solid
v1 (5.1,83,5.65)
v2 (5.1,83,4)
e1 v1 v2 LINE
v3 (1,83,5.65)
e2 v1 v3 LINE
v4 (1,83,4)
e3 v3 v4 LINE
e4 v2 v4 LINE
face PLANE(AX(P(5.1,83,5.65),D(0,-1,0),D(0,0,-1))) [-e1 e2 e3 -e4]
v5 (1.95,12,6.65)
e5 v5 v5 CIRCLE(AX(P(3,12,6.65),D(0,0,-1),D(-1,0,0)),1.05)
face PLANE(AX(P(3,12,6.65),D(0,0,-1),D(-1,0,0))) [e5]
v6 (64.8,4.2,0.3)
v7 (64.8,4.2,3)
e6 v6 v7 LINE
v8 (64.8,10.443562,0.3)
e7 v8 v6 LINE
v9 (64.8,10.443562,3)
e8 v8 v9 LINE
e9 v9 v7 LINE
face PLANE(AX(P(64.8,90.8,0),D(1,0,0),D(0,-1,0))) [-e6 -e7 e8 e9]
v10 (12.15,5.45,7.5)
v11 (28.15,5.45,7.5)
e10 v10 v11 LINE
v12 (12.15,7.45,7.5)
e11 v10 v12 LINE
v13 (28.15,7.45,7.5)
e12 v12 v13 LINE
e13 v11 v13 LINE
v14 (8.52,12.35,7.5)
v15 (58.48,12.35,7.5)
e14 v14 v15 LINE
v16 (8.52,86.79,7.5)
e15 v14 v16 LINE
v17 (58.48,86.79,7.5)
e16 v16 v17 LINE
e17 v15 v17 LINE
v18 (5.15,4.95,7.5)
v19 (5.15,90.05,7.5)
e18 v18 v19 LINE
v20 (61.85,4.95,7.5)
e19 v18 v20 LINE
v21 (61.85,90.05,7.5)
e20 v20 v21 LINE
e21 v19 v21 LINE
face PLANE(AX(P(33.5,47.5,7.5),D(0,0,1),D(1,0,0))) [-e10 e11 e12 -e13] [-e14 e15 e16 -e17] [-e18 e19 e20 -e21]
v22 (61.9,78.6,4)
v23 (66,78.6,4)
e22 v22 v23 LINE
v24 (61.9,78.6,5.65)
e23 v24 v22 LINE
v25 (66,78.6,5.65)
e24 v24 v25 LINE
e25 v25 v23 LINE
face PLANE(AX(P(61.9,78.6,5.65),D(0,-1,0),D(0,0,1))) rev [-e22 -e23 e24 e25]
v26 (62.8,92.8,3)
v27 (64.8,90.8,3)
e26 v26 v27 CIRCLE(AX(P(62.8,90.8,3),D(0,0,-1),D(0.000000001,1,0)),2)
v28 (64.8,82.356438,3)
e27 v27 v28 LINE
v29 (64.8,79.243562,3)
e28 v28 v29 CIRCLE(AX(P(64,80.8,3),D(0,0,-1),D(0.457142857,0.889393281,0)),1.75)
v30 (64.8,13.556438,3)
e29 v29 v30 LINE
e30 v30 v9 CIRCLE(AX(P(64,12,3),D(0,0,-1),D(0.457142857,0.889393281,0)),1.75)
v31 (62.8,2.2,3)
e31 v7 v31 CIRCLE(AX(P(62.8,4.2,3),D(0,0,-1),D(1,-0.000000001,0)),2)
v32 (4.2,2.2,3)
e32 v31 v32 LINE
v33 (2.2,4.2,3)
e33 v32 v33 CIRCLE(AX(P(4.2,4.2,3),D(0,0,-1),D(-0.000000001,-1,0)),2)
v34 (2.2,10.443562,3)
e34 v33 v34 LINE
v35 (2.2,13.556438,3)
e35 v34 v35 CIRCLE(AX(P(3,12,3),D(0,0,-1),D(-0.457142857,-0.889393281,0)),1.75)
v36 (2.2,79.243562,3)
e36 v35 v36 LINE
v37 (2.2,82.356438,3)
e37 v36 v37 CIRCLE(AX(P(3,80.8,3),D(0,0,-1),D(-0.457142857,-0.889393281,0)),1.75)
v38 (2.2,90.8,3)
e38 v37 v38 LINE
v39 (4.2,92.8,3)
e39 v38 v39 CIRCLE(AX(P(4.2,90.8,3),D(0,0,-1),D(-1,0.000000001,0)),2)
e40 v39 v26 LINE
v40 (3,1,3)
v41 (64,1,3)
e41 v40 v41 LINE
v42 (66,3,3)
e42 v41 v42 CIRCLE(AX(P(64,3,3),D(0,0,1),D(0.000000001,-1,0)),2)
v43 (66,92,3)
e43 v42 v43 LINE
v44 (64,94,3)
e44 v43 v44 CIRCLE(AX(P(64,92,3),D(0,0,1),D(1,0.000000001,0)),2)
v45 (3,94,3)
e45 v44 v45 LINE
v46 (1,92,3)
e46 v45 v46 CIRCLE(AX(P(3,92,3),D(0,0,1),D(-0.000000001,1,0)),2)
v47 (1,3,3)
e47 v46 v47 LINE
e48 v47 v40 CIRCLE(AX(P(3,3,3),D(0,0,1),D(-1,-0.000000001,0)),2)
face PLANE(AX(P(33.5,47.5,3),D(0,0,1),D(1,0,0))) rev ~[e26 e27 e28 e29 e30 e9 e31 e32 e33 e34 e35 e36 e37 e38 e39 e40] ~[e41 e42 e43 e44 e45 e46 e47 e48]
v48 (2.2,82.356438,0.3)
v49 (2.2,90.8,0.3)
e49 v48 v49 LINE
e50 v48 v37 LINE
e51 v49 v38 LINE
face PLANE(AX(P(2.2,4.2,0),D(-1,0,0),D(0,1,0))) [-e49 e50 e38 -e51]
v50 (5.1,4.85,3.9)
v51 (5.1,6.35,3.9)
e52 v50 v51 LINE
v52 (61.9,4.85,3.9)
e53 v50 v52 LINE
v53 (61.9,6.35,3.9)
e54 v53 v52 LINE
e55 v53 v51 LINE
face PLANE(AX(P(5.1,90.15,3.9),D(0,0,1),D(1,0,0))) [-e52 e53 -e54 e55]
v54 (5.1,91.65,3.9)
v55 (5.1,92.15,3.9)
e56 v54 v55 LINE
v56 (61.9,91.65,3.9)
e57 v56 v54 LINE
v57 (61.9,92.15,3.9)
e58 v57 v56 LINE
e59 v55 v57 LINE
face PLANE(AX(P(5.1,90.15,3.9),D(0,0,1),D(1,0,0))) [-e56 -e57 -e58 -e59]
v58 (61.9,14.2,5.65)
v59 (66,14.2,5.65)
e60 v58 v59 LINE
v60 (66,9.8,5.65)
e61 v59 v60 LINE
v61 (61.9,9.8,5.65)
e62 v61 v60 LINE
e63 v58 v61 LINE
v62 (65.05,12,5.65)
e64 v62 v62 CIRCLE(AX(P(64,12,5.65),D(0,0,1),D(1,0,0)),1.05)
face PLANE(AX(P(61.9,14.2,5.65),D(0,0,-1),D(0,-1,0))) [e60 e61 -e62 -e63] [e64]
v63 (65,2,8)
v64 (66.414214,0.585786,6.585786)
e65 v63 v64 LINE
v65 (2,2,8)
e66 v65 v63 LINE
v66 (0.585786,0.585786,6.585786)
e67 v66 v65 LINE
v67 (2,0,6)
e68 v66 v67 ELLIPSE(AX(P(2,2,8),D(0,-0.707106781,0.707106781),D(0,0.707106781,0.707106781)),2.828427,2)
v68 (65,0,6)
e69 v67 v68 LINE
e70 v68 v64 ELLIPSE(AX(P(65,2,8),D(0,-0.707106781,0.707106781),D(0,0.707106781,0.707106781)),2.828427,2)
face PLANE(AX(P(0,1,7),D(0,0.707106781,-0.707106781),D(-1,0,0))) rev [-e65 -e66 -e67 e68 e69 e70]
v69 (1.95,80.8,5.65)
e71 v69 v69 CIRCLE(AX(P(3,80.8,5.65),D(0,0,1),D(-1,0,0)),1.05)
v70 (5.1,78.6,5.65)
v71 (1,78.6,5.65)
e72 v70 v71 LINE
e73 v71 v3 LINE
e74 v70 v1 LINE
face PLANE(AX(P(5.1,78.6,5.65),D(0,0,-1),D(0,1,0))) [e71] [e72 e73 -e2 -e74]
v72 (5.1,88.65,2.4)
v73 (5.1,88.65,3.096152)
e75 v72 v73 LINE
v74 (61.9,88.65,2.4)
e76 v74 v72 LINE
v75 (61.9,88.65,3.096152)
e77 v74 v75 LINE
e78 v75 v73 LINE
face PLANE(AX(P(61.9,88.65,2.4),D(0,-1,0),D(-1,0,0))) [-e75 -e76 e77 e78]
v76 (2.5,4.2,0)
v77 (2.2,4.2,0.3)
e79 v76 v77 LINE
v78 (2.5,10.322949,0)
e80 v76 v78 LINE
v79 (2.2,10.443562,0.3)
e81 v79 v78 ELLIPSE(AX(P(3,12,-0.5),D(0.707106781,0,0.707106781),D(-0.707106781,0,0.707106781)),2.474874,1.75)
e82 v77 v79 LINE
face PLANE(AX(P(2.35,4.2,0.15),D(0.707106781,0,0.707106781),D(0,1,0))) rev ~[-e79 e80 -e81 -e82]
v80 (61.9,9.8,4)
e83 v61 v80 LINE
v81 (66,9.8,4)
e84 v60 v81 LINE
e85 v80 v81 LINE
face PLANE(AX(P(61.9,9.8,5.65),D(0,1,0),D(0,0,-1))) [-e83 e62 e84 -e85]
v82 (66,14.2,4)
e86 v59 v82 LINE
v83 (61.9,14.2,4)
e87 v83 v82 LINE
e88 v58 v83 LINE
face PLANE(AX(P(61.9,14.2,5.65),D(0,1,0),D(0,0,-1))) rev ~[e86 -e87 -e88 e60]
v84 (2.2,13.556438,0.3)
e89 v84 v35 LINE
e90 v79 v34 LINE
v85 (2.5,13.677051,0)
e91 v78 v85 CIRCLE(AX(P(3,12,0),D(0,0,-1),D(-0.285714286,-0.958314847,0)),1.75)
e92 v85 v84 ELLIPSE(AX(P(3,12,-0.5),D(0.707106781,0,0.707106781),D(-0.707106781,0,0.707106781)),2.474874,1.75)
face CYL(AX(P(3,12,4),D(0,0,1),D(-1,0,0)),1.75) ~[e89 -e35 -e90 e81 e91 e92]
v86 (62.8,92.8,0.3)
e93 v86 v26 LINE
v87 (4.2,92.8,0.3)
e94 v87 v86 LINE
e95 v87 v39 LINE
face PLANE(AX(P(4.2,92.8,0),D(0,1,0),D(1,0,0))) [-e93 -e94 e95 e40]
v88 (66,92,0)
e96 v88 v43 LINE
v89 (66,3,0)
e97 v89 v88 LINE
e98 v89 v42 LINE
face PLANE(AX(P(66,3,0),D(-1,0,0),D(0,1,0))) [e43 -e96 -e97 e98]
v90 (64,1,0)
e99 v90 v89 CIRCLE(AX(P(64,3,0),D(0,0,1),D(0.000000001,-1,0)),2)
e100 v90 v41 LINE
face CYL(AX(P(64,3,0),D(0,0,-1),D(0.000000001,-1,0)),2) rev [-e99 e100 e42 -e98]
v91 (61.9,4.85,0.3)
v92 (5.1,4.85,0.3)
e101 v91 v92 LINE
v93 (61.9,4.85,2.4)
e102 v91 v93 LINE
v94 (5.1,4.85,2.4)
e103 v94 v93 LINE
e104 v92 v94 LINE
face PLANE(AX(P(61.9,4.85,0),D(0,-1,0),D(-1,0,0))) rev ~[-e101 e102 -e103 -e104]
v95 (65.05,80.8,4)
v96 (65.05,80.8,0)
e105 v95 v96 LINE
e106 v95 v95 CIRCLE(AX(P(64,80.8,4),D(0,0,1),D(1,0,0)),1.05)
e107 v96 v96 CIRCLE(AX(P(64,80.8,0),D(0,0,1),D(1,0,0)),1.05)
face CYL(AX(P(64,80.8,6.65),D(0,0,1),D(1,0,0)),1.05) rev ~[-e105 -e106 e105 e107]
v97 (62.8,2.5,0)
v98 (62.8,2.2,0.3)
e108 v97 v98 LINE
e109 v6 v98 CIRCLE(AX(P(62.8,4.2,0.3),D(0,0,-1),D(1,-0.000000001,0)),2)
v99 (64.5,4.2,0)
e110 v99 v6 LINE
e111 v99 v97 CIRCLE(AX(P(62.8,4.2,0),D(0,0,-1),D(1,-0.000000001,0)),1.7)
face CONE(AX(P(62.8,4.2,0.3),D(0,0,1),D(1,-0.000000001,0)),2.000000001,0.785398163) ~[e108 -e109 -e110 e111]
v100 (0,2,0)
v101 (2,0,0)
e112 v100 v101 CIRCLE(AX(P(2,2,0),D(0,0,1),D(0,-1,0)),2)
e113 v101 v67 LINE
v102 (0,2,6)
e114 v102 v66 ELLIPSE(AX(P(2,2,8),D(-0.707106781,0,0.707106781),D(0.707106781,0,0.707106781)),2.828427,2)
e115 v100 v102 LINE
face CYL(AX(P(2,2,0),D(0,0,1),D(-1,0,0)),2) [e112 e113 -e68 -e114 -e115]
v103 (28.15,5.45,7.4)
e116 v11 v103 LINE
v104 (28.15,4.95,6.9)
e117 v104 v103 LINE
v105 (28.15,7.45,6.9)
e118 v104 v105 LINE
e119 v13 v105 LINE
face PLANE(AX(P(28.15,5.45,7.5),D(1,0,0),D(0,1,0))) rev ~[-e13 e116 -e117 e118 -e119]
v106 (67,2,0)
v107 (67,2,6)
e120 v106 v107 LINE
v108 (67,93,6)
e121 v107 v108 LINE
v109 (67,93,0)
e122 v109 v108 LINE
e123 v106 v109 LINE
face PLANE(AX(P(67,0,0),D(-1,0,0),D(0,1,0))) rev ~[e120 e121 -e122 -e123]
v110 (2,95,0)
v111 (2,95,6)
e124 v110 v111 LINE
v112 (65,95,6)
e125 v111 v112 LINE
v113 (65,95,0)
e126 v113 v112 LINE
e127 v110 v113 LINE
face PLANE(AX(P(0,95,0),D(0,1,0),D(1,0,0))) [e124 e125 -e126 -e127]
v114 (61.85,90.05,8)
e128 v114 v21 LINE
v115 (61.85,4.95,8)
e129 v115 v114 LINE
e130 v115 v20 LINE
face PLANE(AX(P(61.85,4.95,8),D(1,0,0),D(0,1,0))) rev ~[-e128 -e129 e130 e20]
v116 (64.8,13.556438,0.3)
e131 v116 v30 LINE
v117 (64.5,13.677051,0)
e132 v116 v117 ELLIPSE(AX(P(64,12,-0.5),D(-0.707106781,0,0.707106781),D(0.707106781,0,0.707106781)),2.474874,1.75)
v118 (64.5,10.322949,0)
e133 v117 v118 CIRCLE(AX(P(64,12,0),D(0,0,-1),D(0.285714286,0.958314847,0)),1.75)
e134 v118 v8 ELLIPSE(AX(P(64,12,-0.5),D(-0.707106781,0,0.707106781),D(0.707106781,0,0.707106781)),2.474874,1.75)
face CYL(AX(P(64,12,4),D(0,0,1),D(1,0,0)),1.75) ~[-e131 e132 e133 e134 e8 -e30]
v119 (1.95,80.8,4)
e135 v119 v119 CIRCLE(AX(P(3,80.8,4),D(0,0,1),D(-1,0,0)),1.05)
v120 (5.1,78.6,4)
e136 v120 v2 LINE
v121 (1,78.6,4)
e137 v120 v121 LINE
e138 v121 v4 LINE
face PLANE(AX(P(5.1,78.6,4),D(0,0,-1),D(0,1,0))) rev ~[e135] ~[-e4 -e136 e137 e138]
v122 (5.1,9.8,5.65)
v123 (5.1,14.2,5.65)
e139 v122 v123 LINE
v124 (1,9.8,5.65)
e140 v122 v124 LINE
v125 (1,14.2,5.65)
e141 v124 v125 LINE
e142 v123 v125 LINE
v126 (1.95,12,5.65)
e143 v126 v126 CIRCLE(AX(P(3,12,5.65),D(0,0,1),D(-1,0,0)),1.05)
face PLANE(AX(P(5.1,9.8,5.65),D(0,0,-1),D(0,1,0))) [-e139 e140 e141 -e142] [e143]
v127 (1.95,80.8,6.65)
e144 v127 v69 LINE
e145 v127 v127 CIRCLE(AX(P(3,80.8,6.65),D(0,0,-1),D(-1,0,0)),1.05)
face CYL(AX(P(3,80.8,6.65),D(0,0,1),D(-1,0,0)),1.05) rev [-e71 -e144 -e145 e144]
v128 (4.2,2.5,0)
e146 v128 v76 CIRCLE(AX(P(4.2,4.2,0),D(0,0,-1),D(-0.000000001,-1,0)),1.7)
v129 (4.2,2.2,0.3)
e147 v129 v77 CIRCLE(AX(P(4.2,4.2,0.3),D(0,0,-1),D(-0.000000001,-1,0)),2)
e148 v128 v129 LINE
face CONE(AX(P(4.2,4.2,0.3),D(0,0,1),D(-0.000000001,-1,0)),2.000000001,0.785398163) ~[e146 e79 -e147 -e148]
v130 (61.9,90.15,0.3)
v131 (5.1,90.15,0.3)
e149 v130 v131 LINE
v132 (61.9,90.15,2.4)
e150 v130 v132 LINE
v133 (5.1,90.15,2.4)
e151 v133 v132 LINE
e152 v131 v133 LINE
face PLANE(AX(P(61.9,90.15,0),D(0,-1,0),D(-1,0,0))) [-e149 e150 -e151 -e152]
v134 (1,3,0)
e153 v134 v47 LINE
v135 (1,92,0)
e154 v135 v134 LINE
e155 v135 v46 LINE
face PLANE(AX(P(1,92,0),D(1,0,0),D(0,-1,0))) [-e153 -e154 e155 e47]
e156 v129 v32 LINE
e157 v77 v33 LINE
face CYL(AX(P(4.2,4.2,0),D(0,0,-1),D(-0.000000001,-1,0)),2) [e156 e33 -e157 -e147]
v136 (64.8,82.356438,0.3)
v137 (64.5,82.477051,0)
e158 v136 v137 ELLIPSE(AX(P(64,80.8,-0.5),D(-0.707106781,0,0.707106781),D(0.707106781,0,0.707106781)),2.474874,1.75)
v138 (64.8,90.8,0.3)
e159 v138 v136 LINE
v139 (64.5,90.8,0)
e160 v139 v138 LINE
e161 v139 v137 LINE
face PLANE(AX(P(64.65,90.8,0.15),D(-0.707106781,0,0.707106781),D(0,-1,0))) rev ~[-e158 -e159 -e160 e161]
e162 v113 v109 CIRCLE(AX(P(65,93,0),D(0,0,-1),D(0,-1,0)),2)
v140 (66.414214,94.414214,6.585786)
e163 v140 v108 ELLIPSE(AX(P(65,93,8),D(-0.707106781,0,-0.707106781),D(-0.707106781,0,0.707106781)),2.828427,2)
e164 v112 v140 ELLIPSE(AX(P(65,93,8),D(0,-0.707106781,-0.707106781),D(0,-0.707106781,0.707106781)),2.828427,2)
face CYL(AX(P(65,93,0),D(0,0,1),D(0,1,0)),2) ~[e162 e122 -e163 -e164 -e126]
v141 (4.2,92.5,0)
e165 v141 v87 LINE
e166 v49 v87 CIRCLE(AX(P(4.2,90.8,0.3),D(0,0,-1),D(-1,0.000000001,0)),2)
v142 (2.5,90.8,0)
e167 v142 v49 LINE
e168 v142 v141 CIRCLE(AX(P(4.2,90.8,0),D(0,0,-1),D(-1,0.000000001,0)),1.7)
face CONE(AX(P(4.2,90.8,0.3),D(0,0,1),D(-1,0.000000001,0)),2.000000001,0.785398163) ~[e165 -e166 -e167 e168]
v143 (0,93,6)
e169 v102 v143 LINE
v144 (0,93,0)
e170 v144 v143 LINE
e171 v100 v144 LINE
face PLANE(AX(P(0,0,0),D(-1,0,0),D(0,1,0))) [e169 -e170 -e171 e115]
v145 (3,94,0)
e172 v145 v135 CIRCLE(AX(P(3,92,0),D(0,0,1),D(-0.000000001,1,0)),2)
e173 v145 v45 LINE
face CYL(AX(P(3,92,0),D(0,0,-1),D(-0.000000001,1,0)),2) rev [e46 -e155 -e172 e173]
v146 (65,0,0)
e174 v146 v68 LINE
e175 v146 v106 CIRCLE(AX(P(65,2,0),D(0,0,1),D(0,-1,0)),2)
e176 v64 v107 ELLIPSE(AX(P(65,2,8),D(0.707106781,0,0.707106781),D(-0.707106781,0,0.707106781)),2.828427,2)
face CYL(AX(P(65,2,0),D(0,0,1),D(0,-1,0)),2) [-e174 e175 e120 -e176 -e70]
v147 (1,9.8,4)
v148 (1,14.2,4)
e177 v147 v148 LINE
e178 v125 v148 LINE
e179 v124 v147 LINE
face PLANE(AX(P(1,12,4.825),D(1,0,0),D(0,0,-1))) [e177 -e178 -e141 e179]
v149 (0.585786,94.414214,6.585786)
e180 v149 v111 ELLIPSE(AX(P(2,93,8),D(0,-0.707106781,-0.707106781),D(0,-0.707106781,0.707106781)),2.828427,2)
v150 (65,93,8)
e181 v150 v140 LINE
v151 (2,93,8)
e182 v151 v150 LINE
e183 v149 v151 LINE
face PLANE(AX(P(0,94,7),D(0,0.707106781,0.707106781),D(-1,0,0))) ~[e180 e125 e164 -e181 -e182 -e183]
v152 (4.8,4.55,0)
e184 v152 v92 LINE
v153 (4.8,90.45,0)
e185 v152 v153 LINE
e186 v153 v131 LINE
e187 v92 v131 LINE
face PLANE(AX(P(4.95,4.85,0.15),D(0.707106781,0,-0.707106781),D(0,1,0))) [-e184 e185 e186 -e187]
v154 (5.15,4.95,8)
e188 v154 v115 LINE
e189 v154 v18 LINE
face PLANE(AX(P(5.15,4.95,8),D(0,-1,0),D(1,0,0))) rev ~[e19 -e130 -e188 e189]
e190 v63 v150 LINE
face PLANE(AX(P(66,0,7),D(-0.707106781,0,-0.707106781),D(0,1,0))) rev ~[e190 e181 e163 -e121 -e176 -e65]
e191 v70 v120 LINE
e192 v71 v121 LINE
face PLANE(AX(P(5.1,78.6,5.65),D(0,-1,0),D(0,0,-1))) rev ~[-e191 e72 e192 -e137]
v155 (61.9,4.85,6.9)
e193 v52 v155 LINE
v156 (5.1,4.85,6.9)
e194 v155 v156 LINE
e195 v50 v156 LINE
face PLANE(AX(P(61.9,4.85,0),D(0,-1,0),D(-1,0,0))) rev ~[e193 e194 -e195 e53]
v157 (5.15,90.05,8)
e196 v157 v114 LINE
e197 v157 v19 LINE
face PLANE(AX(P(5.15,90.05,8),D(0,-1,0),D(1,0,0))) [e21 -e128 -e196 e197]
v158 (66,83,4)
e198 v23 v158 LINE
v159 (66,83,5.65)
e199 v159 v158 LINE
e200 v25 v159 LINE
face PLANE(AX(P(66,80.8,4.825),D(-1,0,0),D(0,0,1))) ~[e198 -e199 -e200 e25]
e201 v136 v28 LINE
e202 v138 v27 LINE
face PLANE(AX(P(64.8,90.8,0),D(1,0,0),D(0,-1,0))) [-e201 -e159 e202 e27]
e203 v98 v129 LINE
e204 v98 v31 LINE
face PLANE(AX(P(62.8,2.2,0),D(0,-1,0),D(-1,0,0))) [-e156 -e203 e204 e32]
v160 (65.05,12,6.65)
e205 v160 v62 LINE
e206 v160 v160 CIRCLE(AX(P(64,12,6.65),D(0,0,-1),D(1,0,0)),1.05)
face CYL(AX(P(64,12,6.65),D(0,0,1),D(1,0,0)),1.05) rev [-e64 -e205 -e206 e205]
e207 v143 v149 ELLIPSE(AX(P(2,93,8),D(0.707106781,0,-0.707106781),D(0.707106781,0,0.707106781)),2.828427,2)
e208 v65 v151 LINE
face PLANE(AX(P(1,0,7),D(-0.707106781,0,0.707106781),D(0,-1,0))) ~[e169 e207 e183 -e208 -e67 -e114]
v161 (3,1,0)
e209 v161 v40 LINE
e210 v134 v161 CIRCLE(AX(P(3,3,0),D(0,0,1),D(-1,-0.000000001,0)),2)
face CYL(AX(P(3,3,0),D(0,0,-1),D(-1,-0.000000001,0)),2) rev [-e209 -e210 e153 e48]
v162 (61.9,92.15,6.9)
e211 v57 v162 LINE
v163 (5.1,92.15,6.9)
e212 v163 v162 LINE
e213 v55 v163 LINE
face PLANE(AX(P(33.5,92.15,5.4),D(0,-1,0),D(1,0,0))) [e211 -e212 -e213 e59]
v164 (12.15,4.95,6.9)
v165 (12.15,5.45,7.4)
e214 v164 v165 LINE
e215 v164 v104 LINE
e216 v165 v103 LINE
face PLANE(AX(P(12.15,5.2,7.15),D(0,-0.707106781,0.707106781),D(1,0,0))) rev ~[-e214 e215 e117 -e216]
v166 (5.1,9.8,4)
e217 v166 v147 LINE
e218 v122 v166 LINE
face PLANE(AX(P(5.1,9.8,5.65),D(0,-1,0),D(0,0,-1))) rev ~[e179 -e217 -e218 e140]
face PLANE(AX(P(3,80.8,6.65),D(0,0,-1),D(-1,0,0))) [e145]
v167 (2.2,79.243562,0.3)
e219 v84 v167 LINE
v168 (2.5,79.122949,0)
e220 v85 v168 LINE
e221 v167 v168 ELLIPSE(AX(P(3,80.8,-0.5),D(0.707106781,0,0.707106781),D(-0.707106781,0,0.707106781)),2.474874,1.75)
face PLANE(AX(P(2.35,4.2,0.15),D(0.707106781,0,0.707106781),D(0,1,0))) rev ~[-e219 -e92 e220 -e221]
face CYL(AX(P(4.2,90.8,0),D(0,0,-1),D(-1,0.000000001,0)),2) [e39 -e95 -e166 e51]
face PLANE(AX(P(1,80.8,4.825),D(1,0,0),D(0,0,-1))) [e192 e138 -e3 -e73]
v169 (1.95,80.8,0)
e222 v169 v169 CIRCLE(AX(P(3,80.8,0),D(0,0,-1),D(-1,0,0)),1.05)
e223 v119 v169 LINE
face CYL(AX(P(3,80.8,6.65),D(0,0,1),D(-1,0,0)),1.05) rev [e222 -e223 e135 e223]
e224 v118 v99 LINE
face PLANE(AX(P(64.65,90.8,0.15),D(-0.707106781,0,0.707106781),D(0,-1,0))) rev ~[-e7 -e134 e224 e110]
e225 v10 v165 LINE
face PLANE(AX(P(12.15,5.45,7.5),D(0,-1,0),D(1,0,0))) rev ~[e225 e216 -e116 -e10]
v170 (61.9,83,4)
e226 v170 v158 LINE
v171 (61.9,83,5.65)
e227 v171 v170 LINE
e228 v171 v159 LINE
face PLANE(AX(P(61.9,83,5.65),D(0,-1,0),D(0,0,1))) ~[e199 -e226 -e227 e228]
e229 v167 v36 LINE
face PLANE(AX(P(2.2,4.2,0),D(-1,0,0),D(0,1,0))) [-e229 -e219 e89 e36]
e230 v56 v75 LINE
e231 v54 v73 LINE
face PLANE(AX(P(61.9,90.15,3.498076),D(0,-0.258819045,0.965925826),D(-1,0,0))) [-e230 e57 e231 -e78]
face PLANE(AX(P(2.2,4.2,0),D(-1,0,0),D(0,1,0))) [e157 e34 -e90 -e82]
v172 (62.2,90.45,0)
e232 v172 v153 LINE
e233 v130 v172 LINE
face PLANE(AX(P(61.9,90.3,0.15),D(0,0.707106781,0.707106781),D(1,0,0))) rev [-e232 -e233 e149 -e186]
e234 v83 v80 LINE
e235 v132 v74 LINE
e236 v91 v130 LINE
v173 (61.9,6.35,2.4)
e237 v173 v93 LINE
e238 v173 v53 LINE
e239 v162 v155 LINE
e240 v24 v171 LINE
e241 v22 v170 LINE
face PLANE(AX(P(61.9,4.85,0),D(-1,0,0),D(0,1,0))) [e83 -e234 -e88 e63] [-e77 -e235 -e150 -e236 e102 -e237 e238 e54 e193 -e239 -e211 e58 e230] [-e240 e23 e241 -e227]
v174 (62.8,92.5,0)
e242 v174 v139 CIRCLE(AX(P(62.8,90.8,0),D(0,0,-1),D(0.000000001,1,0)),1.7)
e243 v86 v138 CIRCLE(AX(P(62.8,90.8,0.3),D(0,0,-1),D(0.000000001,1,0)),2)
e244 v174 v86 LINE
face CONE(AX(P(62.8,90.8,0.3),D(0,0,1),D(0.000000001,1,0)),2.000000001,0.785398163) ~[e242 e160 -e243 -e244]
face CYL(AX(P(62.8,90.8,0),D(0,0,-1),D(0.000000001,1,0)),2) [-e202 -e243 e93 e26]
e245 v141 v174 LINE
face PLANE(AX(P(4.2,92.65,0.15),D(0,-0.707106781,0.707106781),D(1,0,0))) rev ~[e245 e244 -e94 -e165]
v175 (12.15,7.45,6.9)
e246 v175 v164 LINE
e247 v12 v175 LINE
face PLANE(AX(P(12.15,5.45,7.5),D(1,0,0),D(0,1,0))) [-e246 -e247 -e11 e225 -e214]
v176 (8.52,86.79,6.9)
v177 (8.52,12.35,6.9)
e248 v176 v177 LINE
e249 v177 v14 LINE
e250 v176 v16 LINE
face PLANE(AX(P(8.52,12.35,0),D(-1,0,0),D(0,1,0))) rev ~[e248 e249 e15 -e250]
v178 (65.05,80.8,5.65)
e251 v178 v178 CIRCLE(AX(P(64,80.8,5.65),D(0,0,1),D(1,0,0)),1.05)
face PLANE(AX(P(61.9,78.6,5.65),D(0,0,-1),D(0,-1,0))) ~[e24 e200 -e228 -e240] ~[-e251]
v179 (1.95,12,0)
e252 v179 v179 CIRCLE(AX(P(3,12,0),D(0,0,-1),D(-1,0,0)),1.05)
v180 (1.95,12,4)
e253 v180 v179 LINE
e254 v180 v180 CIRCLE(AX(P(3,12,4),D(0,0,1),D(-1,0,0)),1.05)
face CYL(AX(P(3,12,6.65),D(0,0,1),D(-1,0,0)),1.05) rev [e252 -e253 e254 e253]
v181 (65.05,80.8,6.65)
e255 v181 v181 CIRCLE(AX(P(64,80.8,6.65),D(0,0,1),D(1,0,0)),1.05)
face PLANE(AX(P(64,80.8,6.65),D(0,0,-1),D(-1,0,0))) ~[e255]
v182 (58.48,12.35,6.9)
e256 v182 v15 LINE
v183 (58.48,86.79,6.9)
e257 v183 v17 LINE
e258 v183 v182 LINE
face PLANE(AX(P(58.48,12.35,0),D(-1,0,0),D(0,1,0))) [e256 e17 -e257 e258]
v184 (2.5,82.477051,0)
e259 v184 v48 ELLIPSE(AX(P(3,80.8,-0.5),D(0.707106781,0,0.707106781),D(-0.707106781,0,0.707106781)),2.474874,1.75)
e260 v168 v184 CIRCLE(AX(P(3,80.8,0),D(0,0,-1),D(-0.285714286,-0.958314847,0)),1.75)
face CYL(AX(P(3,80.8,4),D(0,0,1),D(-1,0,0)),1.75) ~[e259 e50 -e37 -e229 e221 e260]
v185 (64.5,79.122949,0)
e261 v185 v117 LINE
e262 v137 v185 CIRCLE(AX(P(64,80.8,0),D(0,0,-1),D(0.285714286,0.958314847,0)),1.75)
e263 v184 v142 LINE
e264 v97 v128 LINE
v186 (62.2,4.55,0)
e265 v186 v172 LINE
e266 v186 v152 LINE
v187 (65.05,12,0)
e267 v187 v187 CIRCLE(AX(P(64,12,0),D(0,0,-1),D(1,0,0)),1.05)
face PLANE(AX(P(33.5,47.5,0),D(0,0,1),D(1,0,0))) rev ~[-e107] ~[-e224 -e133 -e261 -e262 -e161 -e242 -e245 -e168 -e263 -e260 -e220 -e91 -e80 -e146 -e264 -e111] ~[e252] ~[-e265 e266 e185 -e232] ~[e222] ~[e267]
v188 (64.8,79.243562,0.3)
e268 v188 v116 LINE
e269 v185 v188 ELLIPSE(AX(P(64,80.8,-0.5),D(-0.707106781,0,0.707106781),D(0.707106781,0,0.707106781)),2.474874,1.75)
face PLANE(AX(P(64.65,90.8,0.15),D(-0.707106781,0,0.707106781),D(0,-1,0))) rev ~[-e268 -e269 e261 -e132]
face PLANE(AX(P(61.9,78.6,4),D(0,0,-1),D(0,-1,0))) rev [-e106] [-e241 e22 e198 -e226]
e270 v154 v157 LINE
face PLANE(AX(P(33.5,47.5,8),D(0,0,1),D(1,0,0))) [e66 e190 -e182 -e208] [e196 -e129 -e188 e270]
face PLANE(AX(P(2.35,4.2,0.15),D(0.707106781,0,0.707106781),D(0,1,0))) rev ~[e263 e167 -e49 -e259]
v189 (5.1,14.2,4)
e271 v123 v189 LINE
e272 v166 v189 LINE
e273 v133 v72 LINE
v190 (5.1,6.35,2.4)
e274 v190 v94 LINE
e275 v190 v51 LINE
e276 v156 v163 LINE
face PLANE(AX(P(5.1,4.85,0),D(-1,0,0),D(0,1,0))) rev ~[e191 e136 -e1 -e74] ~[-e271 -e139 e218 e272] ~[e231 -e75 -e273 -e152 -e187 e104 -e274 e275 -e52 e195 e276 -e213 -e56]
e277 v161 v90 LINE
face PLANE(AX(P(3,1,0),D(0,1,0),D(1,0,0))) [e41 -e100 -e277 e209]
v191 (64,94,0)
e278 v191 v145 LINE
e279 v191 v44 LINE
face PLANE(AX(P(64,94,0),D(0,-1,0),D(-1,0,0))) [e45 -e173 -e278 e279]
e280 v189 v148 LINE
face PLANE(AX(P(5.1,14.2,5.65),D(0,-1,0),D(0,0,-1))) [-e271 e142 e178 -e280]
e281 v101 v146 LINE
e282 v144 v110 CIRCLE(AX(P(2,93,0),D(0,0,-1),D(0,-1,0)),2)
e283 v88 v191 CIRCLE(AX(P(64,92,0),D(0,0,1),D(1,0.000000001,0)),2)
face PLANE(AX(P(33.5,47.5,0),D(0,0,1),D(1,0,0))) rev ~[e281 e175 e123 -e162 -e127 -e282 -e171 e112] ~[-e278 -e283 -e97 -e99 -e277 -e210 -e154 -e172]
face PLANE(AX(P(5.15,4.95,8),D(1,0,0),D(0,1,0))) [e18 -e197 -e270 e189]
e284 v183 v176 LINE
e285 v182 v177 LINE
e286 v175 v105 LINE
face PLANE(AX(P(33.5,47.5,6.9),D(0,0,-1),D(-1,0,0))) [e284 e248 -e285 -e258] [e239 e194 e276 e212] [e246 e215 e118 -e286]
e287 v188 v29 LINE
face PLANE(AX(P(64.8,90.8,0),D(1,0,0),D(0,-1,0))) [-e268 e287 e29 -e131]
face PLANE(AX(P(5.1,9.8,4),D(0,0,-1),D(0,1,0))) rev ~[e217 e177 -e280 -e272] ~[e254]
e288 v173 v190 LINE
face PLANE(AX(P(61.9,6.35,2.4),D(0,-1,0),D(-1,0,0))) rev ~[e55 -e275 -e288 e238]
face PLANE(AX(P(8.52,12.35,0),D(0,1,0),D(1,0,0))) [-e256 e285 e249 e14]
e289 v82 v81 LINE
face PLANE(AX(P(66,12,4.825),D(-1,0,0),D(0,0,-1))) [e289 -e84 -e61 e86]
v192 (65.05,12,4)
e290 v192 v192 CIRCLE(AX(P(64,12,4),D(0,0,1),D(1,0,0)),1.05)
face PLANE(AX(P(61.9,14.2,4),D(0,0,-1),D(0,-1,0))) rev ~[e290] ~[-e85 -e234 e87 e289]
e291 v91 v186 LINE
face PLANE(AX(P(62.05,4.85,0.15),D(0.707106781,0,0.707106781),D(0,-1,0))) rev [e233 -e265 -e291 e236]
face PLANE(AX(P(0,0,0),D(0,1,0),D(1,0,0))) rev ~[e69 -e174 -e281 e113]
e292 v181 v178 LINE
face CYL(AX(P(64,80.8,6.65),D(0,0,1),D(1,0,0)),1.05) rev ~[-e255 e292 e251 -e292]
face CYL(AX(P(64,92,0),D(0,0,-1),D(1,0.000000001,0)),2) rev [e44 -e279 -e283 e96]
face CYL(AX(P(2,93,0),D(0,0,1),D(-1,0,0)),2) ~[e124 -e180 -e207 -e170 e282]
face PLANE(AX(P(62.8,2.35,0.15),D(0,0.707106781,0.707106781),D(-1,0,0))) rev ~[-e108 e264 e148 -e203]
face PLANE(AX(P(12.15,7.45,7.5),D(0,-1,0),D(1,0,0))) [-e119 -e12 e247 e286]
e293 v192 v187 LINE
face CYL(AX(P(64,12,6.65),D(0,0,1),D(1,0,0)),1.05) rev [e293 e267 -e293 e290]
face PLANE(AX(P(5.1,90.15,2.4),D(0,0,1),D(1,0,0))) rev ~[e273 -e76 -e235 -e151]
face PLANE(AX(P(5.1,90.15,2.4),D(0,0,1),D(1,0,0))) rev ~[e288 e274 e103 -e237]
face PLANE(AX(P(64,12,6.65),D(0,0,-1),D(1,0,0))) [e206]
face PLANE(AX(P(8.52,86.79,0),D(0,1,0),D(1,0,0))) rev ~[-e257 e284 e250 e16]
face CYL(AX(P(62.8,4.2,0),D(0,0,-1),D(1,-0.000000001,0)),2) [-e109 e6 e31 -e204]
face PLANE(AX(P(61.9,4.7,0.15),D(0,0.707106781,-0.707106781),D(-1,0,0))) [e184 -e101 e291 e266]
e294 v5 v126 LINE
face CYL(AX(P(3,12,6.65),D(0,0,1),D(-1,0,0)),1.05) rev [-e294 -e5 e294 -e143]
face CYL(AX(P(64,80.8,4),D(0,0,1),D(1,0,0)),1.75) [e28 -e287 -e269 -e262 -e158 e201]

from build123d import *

# Parameters (mm, degrees)
SKIZZE1_W                        = 67
SKIZZE1_H                        = 95
AUFSATZ_LINEAR_AUSTRAGEN1_DEPTH  = 8
SKIZZE2_W                        = 56.7
SKIZZE2_H                        = 85.1
SCHNITT_LINEAR_AUSTRAGEN1_DEPTH  = 0.5
SCHNITT_LINEAR_START             = -7.5
SKIZZE3_W                        = 49.96
SKIZZE3_H                        = 74.44
SCHNITT_LINEAR_AUSTRAGEN2_DEPTH  = 7.5
SCHNITT_LINEAR_AUSTRAGEN3_REACH  = 9.5
SKIZZE4_W                        = 16
SKIZZE4_H                        = 2
SKIZZE5_W                        = 56.8
SKIZZE5_H                        = 85.3
SCHNITT_LINEAR_AUSTRAGEN4_DEPTH  = 6.9
FASE1_SIZE                       = 2
FASE2_SIZE                       = 0.5
SKIZZE8_W                        = 56.8
SKIZZE8_H                        = 3
SCHNITT_LINEAR_AUSTRAGEN5_DEPTH  = 2
SKIZZE10_W                       = 56.8
SKIZZE10_H                       = 1.5
AUFSATZ_LINEAR_AUSTRAGEN2_DEPTH  = 85.3
SCHNITT_LINEAR_AUSTRAGEN6_REACH  = 7.6
SKIZZE12_W                       = 56.8
SKIZZE12_H                       = 82.3
VERRUNDUNG2_R                    = 2
FASE3_SIZE                       = 3
FASE3_SIZE2                      = 0.803847577
SCHNITT_LINEAR_AUSTRAGEN9_DEPTH  = 3
FASE8_SIZE                       = 0.3
SKIZZE18_W                       = 1.65
SKIZZE18_H                       = 4.4
SCHNITT_LINEAR_AUSTRAGEN10_DEPTH = 4.1
AUFSATZ_LINEAR_START             = 1.65
SKIZZE20_R                       = 1.75
AUFSATZ_LINEAR_AUSTRAGEN7_DEPTH  = 4
SCHNITT_LINEAR_START_2           = -1
SKIZZE21_R                       = 1.05
SCHNITT_LINEAR_AUSTRAGEN12_DEPTH = 6.65
LINEARES_MUSTER1_COUNT           = 2
LINEARES_MUSTER1_PITCH           = 68.8
LINEARES_START                   = 1.65
LINEARES_MUSTER1_COPY_1_SKETCH_R = 1.75
LINEARES_MUSTER1_COPY_1_DEPTH    = 4
LINEARES_START_2                 = -1
LINEARES_MUSTER1_COPY_2_SKETCH_R = 1.05
LINEARES_MUSTER1_COPY_2_DEPTH    = 6.65
LINEARES_MUSTER1_COPY_3_SKETCH_W = 1.65
LINEARES_MUSTER1_COPY_3_SKETCH_H = 4.4
LINEARES_MUSTER1_COPY_3_DEPTH    = 4.1


with BuildPart() as part:
    # Skizze1 → Aufsatz-Linear austragen1 (new body)
    with BuildSketch(Plane.XY):
        with Locations((33.5, 47.5)):
            Rectangle(SKIZZE1_W, SKIZZE1_H)
    extrude(amount=AUFSATZ_LINEAR_AUSTRAGEN1_DEPTH)

    # Skizze2 → Schnitt-Linear austragen1 (cut)
    with BuildSketch(Plane.XY.offset(8)):
        with Locations((33.5, 47.5)):
            Rectangle(SKIZZE2_W, SKIZZE2_H)
    extrude(amount=-SCHNITT_LINEAR_AUSTRAGEN1_DEPTH, mode=Mode.SUBTRACT)

    # Skizze3 → Schnitt-Linear austragen2 (cut)
    with BuildSketch(Plane.XY.offset(7.5).offset(SCHNITT_LINEAR_START)):
        with Locations((33.5, 49.57)):
            Rectangle(SKIZZE3_W, SKIZZE3_H)
    extrude(amount=SCHNITT_LINEAR_AUSTRAGEN2_DEPTH, mode=Mode.SUBTRACT)

    # Skizze4 → Schnitt-Linear austragen3 (cut, up to next)
    with BuildSketch(Plane.XY.offset(7.5), mode=Mode.PRIVATE) as schnitt_linear_austragen3_sk1:
        with Locations((20.15, 6.45)):
            Rectangle(SKIZZE4_W, SKIZZE4_H)
    schnitt_linear_austragen3_tool1 = extrude(schnitt_linear_austragen3_sk1.sketch, amount=-SCHNITT_LINEAR_AUSTRAGEN3_REACH, mode=Mode.PRIVATE) & part.part
    add(schnitt_linear_austragen3_tool1.solids().sort_by_distance((20.15, 6.45, 7.5))[0], mode=Mode.SUBTRACT)

    # Skizze5 → Schnitt-Linear austragen4 (cut)
    with BuildSketch(Plane(origin=(0, 0, 0), x_dir=(-1, 0, 0), z_dir=(0, 0, -1))):
        with Locations((-33.5, 47.5)):
            Rectangle(SKIZZE5_W, SKIZZE5_H)
    extrude(amount=-SCHNITT_LINEAR_AUSTRAGEN4_DEPTH, mode=Mode.SUBTRACT)

    # Fase1
    fase1_edges = [part.edges().sort_by_distance(p)[0] for p in [
        (67, 47.5, 8),
        (33.5, 95, 8),
        (0, 47.5, 8),
        (33.5, 0, 8),
    ]]
    chamfer(fase1_edges, length=FASE1_SIZE)

    # Fase2
    fase2_edges = [part.edges().sort_by_distance(p)[0] for p in [
        (20.15, 5.45, 6.9),
    ]]
    chamfer(fase2_edges, length=FASE2_SIZE)

    # Skizze8 → Schnitt-Linear austragen5 (cut)
    with BuildSketch(Plane.XZ.offset(-90.15)):
        with Locations((33.5, 5.4)):
            Rectangle(SKIZZE8_W, SKIZZE8_H)
    extrude(amount=-SCHNITT_LINEAR_AUSTRAGEN5_DEPTH, mode=Mode.SUBTRACT)

    # Skizze10 → Aufsatz-Linear austragen2 (add)
    with BuildSketch(Plane.XZ.offset(-90.15)):
        with Locations((33.5, 3.15)):
            Rectangle(SKIZZE10_W, SKIZZE10_H)
    extrude(amount=AUFSATZ_LINEAR_AUSTRAGEN2_DEPTH)

    # Skizze12 → Schnitt-Linear austragen6 (cut, up to next)
    with BuildSketch(Plane(origin=(0, 0, 2.4), x_dir=(-1, 0, 0), z_dir=(0, 0, -1)), mode=Mode.PRIVATE) as schnitt_linear_austragen6_sk1:
        with Locations((-33.5, 47.5)):
            Rectangle(SKIZZE12_W, SKIZZE12_H)
    schnitt_linear_austragen6_tool1 = extrude(schnitt_linear_austragen6_sk1.sketch, amount=-SCHNITT_LINEAR_AUSTRAGEN6_REACH, mode=Mode.PRIVATE) & part.part
    add(schnitt_linear_austragen6_tool1.solids().sort_by_distance((33.5, 47.5, 2.4))[0], mode=Mode.SUBTRACT)

    # Verrundung2
    verrundung2_edges = [part.edges().sort_by_distance(p)[0] for p in [
        (0, 0, 3),
        (0, 95, 3),
        (67, 0, 3),
        (67, 95, 3),
    ]]
    fillet(verrundung2_edges, radius=VERRUNDUNG2_R)

    # Fase3
    fase3_edges = [part.edges().sort_by_distance(p)[0] for p in [
        (33.5, 88.65, 3.9),
    ]]
    fase3_side = [part.faces().sort_by_distance(p)[0] for p in [
        (33.5, 90.4, 3.9),
    ]]
    chamfer(fase3_edges, length=FASE3_SIZE, length2=FASE3_SIZE2, reference=fase3_side[0])

    # Skizze14 → Schnitt-Linear austragen9 (cut)
    with BuildSketch(Plane(origin=(0, 0, 0), x_dir=(-1, 0, 0), z_dir=(0, 0, -1))):
        with BuildLine():
            Line((-64, 94), (-3, 94))
            ThreePointArc((-3, 94), (-1.585786438, 93.414213562), (-1, 92))
            Line((-1, 92), (-1, 3))
            ThreePointArc((-1, 3), (-1.585786438, 1.585786438), (-3, 1))
            Line((-3, 1), (-64, 1))
            ThreePointArc((-64, 1), (-65.414213562, 1.585786438), (-66, 3))
            Line((-66, 3), (-66, 92))
            ThreePointArc((-66, 92), (-65.414213562, 93.414213562), (-64, 94))
        make_face()
        with BuildLine():
            ThreePointArc((-64.8, 4.2), (-64.214213562, 2.785786438), (-62.8, 2.2))
            Line((-62.8, 2.2), (-4.2, 2.2))
            ThreePointArc((-4.2, 2.2), (-2.785786438, 2.785786438), (-2.2, 4.2))
            Line((-2.2, 4.2), (-2.2, 90.8))
            ThreePointArc((-2.2, 90.8), (-2.785786438, 92.214213562), (-4.2, 92.8))
            Line((-4.2, 92.8), (-62.8, 92.8))
            ThreePointArc((-62.8, 92.8), (-64.214213562, 92.214213562), (-64.8, 90.8))
            Line((-64.8, 90.8), (-64.8, 4.2))
        make_face(mode=Mode.SUBTRACT)
    extrude(amount=-SCHNITT_LINEAR_AUSTRAGEN9_DEPTH, mode=Mode.SUBTRACT)

    # Fase8
    fase8_edges = [part.edges().sort_by_distance(p)[0] for p in [
        (64.214213562, 2.785786438, 0),
        (33.5, 2.2, 0),
        (2.2, 47.5, 0),
        (2.785786438, 92.214213562, 0),
        (64.214213562, 92.214213562, 0),
        (64.8, 47.5, 0),
        (33.5, 92.8, 0),
        (2.785786438, 2.785786438, 0),
        (61.9, 47.5, 0),
        (33.5, 4.85, 0),
        (5.1, 47.5, 0),
        (33.5, 90.15, 0),
    ]]
    chamfer(fase8_edges, length=FASE8_SIZE)

    # Skizze18 → Schnitt-Linear austragen10 (cut)
    with BuildSketch(Plane(origin=(5.1, 0, 0), x_dir=(0, 0, -1), z_dir=(1, 0, 0))):
        with Locations((-4.825, 80.8)):
            Rectangle(SKIZZE18_W, SKIZZE18_H)
    schnitt_linear_austragen10 = extrude(amount=-SCHNITT_LINEAR_AUSTRAGEN10_DEPTH, mode=Mode.SUBTRACT)

    # Spiegeln6: Schnitt-Linear austragen10 across plane
    add(schnitt_linear_austragen10.mirror(Plane.ZY.offset(-33.5)), mode=Mode.SUBTRACT)

    # Skizze20 → Aufsatz-Linear austragen7 (add)
    with BuildSketch(Plane(origin=(0, 0, 5.65), x_dir=(-1, 0, 0), z_dir=(0, 0, -1)).offset(AUFSATZ_LINEAR_START)):
        with Locations((-3, 80.8)):
            Circle(SKIZZE20_R)
    aufsatz_linear_austragen7 = extrude(amount=AUFSATZ_LINEAR_AUSTRAGEN7_DEPTH)

    # Skizze21 → Schnitt-Linear austragen12 (cut)
    with BuildSketch(Plane(origin=(0, 0, 5.65), x_dir=(-1, 0, 0), z_dir=(0, 0, -1)).offset(SCHNITT_LINEAR_START_2)):
        with Locations((-3, 80.8)):
            Circle(SKIZZE21_R)
    schnitt_linear_austragen12 = extrude(amount=SCHNITT_LINEAR_AUSTRAGEN12_DEPTH, mode=Mode.SUBTRACT)

    # Spiegeln1: Aufsatz-Linear austragen7, Schnitt-Linear austragen12 across plane
    add(aufsatz_linear_austragen7.mirror(Plane.ZY.offset(-33.5)))
    add(schnitt_linear_austragen12.mirror(Plane.ZY.offset(-33.5)), mode=Mode.SUBTRACT)

    # Lineares Muster1: Schnitt-Linear austragen10, Aufsatz-Linear austragen7, Schnitt-Linear austragen12 ×2
    with Locations(*[(0, -i * LINEARES_MUSTER1_PITCH, 0) for i in range(1, LINEARES_MUSTER1_COUNT)]):
        add(schnitt_linear_austragen10, mode=Mode.SUBTRACT)
        add(aufsatz_linear_austragen7)
        add(schnitt_linear_austragen12, mode=Mode.SUBTRACT)

    # Lineares Muster1 copy 1 sketch → Lineares Muster1 copy 1 (add)
    with BuildSketch(Plane(origin=(67, -68.8, 5.65), x_dir=(1, 0, 0), z_dir=(0, 0, -1)).offset(LINEARES_START)):
        with Locations((-3, -80.8)):
            Circle(LINEARES_MUSTER1_COPY_1_SKETCH_R)
    extrude(amount=LINEARES_MUSTER1_COPY_1_DEPTH)

    # Lineares Muster1 copy 2 sketch → Lineares Muster1 copy 2 (cut)
    with BuildSketch(Plane(origin=(67, -68.8, 5.65), x_dir=(1, 0, 0), z_dir=(0, 0, -1)).offset(LINEARES_START_2)):
        with Locations((-3, -80.8)):
            Circle(LINEARES_MUSTER1_COPY_2_SKETCH_R)
    extrude(amount=LINEARES_MUSTER1_COPY_2_DEPTH, mode=Mode.SUBTRACT)

    # Lineares Muster1 copy 3 sketch → Lineares Muster1 copy 3 (cut)
    with BuildSketch(Plane(origin=(61.9, -68.8, 0), x_dir=(0, 0, -1), z_dir=(-1, 0, 0))):
        with Locations((-4.825, -80.8)):
            Rectangle(LINEARES_MUSTER1_COPY_3_SKETCH_W, LINEARES_MUSTER1_COPY_3_SKETCH_H)
    extrude(amount=-LINEARES_MUSTER1_COPY_3_DEPTH, mode=Mode.SUBTRACT)


solid = part.part
